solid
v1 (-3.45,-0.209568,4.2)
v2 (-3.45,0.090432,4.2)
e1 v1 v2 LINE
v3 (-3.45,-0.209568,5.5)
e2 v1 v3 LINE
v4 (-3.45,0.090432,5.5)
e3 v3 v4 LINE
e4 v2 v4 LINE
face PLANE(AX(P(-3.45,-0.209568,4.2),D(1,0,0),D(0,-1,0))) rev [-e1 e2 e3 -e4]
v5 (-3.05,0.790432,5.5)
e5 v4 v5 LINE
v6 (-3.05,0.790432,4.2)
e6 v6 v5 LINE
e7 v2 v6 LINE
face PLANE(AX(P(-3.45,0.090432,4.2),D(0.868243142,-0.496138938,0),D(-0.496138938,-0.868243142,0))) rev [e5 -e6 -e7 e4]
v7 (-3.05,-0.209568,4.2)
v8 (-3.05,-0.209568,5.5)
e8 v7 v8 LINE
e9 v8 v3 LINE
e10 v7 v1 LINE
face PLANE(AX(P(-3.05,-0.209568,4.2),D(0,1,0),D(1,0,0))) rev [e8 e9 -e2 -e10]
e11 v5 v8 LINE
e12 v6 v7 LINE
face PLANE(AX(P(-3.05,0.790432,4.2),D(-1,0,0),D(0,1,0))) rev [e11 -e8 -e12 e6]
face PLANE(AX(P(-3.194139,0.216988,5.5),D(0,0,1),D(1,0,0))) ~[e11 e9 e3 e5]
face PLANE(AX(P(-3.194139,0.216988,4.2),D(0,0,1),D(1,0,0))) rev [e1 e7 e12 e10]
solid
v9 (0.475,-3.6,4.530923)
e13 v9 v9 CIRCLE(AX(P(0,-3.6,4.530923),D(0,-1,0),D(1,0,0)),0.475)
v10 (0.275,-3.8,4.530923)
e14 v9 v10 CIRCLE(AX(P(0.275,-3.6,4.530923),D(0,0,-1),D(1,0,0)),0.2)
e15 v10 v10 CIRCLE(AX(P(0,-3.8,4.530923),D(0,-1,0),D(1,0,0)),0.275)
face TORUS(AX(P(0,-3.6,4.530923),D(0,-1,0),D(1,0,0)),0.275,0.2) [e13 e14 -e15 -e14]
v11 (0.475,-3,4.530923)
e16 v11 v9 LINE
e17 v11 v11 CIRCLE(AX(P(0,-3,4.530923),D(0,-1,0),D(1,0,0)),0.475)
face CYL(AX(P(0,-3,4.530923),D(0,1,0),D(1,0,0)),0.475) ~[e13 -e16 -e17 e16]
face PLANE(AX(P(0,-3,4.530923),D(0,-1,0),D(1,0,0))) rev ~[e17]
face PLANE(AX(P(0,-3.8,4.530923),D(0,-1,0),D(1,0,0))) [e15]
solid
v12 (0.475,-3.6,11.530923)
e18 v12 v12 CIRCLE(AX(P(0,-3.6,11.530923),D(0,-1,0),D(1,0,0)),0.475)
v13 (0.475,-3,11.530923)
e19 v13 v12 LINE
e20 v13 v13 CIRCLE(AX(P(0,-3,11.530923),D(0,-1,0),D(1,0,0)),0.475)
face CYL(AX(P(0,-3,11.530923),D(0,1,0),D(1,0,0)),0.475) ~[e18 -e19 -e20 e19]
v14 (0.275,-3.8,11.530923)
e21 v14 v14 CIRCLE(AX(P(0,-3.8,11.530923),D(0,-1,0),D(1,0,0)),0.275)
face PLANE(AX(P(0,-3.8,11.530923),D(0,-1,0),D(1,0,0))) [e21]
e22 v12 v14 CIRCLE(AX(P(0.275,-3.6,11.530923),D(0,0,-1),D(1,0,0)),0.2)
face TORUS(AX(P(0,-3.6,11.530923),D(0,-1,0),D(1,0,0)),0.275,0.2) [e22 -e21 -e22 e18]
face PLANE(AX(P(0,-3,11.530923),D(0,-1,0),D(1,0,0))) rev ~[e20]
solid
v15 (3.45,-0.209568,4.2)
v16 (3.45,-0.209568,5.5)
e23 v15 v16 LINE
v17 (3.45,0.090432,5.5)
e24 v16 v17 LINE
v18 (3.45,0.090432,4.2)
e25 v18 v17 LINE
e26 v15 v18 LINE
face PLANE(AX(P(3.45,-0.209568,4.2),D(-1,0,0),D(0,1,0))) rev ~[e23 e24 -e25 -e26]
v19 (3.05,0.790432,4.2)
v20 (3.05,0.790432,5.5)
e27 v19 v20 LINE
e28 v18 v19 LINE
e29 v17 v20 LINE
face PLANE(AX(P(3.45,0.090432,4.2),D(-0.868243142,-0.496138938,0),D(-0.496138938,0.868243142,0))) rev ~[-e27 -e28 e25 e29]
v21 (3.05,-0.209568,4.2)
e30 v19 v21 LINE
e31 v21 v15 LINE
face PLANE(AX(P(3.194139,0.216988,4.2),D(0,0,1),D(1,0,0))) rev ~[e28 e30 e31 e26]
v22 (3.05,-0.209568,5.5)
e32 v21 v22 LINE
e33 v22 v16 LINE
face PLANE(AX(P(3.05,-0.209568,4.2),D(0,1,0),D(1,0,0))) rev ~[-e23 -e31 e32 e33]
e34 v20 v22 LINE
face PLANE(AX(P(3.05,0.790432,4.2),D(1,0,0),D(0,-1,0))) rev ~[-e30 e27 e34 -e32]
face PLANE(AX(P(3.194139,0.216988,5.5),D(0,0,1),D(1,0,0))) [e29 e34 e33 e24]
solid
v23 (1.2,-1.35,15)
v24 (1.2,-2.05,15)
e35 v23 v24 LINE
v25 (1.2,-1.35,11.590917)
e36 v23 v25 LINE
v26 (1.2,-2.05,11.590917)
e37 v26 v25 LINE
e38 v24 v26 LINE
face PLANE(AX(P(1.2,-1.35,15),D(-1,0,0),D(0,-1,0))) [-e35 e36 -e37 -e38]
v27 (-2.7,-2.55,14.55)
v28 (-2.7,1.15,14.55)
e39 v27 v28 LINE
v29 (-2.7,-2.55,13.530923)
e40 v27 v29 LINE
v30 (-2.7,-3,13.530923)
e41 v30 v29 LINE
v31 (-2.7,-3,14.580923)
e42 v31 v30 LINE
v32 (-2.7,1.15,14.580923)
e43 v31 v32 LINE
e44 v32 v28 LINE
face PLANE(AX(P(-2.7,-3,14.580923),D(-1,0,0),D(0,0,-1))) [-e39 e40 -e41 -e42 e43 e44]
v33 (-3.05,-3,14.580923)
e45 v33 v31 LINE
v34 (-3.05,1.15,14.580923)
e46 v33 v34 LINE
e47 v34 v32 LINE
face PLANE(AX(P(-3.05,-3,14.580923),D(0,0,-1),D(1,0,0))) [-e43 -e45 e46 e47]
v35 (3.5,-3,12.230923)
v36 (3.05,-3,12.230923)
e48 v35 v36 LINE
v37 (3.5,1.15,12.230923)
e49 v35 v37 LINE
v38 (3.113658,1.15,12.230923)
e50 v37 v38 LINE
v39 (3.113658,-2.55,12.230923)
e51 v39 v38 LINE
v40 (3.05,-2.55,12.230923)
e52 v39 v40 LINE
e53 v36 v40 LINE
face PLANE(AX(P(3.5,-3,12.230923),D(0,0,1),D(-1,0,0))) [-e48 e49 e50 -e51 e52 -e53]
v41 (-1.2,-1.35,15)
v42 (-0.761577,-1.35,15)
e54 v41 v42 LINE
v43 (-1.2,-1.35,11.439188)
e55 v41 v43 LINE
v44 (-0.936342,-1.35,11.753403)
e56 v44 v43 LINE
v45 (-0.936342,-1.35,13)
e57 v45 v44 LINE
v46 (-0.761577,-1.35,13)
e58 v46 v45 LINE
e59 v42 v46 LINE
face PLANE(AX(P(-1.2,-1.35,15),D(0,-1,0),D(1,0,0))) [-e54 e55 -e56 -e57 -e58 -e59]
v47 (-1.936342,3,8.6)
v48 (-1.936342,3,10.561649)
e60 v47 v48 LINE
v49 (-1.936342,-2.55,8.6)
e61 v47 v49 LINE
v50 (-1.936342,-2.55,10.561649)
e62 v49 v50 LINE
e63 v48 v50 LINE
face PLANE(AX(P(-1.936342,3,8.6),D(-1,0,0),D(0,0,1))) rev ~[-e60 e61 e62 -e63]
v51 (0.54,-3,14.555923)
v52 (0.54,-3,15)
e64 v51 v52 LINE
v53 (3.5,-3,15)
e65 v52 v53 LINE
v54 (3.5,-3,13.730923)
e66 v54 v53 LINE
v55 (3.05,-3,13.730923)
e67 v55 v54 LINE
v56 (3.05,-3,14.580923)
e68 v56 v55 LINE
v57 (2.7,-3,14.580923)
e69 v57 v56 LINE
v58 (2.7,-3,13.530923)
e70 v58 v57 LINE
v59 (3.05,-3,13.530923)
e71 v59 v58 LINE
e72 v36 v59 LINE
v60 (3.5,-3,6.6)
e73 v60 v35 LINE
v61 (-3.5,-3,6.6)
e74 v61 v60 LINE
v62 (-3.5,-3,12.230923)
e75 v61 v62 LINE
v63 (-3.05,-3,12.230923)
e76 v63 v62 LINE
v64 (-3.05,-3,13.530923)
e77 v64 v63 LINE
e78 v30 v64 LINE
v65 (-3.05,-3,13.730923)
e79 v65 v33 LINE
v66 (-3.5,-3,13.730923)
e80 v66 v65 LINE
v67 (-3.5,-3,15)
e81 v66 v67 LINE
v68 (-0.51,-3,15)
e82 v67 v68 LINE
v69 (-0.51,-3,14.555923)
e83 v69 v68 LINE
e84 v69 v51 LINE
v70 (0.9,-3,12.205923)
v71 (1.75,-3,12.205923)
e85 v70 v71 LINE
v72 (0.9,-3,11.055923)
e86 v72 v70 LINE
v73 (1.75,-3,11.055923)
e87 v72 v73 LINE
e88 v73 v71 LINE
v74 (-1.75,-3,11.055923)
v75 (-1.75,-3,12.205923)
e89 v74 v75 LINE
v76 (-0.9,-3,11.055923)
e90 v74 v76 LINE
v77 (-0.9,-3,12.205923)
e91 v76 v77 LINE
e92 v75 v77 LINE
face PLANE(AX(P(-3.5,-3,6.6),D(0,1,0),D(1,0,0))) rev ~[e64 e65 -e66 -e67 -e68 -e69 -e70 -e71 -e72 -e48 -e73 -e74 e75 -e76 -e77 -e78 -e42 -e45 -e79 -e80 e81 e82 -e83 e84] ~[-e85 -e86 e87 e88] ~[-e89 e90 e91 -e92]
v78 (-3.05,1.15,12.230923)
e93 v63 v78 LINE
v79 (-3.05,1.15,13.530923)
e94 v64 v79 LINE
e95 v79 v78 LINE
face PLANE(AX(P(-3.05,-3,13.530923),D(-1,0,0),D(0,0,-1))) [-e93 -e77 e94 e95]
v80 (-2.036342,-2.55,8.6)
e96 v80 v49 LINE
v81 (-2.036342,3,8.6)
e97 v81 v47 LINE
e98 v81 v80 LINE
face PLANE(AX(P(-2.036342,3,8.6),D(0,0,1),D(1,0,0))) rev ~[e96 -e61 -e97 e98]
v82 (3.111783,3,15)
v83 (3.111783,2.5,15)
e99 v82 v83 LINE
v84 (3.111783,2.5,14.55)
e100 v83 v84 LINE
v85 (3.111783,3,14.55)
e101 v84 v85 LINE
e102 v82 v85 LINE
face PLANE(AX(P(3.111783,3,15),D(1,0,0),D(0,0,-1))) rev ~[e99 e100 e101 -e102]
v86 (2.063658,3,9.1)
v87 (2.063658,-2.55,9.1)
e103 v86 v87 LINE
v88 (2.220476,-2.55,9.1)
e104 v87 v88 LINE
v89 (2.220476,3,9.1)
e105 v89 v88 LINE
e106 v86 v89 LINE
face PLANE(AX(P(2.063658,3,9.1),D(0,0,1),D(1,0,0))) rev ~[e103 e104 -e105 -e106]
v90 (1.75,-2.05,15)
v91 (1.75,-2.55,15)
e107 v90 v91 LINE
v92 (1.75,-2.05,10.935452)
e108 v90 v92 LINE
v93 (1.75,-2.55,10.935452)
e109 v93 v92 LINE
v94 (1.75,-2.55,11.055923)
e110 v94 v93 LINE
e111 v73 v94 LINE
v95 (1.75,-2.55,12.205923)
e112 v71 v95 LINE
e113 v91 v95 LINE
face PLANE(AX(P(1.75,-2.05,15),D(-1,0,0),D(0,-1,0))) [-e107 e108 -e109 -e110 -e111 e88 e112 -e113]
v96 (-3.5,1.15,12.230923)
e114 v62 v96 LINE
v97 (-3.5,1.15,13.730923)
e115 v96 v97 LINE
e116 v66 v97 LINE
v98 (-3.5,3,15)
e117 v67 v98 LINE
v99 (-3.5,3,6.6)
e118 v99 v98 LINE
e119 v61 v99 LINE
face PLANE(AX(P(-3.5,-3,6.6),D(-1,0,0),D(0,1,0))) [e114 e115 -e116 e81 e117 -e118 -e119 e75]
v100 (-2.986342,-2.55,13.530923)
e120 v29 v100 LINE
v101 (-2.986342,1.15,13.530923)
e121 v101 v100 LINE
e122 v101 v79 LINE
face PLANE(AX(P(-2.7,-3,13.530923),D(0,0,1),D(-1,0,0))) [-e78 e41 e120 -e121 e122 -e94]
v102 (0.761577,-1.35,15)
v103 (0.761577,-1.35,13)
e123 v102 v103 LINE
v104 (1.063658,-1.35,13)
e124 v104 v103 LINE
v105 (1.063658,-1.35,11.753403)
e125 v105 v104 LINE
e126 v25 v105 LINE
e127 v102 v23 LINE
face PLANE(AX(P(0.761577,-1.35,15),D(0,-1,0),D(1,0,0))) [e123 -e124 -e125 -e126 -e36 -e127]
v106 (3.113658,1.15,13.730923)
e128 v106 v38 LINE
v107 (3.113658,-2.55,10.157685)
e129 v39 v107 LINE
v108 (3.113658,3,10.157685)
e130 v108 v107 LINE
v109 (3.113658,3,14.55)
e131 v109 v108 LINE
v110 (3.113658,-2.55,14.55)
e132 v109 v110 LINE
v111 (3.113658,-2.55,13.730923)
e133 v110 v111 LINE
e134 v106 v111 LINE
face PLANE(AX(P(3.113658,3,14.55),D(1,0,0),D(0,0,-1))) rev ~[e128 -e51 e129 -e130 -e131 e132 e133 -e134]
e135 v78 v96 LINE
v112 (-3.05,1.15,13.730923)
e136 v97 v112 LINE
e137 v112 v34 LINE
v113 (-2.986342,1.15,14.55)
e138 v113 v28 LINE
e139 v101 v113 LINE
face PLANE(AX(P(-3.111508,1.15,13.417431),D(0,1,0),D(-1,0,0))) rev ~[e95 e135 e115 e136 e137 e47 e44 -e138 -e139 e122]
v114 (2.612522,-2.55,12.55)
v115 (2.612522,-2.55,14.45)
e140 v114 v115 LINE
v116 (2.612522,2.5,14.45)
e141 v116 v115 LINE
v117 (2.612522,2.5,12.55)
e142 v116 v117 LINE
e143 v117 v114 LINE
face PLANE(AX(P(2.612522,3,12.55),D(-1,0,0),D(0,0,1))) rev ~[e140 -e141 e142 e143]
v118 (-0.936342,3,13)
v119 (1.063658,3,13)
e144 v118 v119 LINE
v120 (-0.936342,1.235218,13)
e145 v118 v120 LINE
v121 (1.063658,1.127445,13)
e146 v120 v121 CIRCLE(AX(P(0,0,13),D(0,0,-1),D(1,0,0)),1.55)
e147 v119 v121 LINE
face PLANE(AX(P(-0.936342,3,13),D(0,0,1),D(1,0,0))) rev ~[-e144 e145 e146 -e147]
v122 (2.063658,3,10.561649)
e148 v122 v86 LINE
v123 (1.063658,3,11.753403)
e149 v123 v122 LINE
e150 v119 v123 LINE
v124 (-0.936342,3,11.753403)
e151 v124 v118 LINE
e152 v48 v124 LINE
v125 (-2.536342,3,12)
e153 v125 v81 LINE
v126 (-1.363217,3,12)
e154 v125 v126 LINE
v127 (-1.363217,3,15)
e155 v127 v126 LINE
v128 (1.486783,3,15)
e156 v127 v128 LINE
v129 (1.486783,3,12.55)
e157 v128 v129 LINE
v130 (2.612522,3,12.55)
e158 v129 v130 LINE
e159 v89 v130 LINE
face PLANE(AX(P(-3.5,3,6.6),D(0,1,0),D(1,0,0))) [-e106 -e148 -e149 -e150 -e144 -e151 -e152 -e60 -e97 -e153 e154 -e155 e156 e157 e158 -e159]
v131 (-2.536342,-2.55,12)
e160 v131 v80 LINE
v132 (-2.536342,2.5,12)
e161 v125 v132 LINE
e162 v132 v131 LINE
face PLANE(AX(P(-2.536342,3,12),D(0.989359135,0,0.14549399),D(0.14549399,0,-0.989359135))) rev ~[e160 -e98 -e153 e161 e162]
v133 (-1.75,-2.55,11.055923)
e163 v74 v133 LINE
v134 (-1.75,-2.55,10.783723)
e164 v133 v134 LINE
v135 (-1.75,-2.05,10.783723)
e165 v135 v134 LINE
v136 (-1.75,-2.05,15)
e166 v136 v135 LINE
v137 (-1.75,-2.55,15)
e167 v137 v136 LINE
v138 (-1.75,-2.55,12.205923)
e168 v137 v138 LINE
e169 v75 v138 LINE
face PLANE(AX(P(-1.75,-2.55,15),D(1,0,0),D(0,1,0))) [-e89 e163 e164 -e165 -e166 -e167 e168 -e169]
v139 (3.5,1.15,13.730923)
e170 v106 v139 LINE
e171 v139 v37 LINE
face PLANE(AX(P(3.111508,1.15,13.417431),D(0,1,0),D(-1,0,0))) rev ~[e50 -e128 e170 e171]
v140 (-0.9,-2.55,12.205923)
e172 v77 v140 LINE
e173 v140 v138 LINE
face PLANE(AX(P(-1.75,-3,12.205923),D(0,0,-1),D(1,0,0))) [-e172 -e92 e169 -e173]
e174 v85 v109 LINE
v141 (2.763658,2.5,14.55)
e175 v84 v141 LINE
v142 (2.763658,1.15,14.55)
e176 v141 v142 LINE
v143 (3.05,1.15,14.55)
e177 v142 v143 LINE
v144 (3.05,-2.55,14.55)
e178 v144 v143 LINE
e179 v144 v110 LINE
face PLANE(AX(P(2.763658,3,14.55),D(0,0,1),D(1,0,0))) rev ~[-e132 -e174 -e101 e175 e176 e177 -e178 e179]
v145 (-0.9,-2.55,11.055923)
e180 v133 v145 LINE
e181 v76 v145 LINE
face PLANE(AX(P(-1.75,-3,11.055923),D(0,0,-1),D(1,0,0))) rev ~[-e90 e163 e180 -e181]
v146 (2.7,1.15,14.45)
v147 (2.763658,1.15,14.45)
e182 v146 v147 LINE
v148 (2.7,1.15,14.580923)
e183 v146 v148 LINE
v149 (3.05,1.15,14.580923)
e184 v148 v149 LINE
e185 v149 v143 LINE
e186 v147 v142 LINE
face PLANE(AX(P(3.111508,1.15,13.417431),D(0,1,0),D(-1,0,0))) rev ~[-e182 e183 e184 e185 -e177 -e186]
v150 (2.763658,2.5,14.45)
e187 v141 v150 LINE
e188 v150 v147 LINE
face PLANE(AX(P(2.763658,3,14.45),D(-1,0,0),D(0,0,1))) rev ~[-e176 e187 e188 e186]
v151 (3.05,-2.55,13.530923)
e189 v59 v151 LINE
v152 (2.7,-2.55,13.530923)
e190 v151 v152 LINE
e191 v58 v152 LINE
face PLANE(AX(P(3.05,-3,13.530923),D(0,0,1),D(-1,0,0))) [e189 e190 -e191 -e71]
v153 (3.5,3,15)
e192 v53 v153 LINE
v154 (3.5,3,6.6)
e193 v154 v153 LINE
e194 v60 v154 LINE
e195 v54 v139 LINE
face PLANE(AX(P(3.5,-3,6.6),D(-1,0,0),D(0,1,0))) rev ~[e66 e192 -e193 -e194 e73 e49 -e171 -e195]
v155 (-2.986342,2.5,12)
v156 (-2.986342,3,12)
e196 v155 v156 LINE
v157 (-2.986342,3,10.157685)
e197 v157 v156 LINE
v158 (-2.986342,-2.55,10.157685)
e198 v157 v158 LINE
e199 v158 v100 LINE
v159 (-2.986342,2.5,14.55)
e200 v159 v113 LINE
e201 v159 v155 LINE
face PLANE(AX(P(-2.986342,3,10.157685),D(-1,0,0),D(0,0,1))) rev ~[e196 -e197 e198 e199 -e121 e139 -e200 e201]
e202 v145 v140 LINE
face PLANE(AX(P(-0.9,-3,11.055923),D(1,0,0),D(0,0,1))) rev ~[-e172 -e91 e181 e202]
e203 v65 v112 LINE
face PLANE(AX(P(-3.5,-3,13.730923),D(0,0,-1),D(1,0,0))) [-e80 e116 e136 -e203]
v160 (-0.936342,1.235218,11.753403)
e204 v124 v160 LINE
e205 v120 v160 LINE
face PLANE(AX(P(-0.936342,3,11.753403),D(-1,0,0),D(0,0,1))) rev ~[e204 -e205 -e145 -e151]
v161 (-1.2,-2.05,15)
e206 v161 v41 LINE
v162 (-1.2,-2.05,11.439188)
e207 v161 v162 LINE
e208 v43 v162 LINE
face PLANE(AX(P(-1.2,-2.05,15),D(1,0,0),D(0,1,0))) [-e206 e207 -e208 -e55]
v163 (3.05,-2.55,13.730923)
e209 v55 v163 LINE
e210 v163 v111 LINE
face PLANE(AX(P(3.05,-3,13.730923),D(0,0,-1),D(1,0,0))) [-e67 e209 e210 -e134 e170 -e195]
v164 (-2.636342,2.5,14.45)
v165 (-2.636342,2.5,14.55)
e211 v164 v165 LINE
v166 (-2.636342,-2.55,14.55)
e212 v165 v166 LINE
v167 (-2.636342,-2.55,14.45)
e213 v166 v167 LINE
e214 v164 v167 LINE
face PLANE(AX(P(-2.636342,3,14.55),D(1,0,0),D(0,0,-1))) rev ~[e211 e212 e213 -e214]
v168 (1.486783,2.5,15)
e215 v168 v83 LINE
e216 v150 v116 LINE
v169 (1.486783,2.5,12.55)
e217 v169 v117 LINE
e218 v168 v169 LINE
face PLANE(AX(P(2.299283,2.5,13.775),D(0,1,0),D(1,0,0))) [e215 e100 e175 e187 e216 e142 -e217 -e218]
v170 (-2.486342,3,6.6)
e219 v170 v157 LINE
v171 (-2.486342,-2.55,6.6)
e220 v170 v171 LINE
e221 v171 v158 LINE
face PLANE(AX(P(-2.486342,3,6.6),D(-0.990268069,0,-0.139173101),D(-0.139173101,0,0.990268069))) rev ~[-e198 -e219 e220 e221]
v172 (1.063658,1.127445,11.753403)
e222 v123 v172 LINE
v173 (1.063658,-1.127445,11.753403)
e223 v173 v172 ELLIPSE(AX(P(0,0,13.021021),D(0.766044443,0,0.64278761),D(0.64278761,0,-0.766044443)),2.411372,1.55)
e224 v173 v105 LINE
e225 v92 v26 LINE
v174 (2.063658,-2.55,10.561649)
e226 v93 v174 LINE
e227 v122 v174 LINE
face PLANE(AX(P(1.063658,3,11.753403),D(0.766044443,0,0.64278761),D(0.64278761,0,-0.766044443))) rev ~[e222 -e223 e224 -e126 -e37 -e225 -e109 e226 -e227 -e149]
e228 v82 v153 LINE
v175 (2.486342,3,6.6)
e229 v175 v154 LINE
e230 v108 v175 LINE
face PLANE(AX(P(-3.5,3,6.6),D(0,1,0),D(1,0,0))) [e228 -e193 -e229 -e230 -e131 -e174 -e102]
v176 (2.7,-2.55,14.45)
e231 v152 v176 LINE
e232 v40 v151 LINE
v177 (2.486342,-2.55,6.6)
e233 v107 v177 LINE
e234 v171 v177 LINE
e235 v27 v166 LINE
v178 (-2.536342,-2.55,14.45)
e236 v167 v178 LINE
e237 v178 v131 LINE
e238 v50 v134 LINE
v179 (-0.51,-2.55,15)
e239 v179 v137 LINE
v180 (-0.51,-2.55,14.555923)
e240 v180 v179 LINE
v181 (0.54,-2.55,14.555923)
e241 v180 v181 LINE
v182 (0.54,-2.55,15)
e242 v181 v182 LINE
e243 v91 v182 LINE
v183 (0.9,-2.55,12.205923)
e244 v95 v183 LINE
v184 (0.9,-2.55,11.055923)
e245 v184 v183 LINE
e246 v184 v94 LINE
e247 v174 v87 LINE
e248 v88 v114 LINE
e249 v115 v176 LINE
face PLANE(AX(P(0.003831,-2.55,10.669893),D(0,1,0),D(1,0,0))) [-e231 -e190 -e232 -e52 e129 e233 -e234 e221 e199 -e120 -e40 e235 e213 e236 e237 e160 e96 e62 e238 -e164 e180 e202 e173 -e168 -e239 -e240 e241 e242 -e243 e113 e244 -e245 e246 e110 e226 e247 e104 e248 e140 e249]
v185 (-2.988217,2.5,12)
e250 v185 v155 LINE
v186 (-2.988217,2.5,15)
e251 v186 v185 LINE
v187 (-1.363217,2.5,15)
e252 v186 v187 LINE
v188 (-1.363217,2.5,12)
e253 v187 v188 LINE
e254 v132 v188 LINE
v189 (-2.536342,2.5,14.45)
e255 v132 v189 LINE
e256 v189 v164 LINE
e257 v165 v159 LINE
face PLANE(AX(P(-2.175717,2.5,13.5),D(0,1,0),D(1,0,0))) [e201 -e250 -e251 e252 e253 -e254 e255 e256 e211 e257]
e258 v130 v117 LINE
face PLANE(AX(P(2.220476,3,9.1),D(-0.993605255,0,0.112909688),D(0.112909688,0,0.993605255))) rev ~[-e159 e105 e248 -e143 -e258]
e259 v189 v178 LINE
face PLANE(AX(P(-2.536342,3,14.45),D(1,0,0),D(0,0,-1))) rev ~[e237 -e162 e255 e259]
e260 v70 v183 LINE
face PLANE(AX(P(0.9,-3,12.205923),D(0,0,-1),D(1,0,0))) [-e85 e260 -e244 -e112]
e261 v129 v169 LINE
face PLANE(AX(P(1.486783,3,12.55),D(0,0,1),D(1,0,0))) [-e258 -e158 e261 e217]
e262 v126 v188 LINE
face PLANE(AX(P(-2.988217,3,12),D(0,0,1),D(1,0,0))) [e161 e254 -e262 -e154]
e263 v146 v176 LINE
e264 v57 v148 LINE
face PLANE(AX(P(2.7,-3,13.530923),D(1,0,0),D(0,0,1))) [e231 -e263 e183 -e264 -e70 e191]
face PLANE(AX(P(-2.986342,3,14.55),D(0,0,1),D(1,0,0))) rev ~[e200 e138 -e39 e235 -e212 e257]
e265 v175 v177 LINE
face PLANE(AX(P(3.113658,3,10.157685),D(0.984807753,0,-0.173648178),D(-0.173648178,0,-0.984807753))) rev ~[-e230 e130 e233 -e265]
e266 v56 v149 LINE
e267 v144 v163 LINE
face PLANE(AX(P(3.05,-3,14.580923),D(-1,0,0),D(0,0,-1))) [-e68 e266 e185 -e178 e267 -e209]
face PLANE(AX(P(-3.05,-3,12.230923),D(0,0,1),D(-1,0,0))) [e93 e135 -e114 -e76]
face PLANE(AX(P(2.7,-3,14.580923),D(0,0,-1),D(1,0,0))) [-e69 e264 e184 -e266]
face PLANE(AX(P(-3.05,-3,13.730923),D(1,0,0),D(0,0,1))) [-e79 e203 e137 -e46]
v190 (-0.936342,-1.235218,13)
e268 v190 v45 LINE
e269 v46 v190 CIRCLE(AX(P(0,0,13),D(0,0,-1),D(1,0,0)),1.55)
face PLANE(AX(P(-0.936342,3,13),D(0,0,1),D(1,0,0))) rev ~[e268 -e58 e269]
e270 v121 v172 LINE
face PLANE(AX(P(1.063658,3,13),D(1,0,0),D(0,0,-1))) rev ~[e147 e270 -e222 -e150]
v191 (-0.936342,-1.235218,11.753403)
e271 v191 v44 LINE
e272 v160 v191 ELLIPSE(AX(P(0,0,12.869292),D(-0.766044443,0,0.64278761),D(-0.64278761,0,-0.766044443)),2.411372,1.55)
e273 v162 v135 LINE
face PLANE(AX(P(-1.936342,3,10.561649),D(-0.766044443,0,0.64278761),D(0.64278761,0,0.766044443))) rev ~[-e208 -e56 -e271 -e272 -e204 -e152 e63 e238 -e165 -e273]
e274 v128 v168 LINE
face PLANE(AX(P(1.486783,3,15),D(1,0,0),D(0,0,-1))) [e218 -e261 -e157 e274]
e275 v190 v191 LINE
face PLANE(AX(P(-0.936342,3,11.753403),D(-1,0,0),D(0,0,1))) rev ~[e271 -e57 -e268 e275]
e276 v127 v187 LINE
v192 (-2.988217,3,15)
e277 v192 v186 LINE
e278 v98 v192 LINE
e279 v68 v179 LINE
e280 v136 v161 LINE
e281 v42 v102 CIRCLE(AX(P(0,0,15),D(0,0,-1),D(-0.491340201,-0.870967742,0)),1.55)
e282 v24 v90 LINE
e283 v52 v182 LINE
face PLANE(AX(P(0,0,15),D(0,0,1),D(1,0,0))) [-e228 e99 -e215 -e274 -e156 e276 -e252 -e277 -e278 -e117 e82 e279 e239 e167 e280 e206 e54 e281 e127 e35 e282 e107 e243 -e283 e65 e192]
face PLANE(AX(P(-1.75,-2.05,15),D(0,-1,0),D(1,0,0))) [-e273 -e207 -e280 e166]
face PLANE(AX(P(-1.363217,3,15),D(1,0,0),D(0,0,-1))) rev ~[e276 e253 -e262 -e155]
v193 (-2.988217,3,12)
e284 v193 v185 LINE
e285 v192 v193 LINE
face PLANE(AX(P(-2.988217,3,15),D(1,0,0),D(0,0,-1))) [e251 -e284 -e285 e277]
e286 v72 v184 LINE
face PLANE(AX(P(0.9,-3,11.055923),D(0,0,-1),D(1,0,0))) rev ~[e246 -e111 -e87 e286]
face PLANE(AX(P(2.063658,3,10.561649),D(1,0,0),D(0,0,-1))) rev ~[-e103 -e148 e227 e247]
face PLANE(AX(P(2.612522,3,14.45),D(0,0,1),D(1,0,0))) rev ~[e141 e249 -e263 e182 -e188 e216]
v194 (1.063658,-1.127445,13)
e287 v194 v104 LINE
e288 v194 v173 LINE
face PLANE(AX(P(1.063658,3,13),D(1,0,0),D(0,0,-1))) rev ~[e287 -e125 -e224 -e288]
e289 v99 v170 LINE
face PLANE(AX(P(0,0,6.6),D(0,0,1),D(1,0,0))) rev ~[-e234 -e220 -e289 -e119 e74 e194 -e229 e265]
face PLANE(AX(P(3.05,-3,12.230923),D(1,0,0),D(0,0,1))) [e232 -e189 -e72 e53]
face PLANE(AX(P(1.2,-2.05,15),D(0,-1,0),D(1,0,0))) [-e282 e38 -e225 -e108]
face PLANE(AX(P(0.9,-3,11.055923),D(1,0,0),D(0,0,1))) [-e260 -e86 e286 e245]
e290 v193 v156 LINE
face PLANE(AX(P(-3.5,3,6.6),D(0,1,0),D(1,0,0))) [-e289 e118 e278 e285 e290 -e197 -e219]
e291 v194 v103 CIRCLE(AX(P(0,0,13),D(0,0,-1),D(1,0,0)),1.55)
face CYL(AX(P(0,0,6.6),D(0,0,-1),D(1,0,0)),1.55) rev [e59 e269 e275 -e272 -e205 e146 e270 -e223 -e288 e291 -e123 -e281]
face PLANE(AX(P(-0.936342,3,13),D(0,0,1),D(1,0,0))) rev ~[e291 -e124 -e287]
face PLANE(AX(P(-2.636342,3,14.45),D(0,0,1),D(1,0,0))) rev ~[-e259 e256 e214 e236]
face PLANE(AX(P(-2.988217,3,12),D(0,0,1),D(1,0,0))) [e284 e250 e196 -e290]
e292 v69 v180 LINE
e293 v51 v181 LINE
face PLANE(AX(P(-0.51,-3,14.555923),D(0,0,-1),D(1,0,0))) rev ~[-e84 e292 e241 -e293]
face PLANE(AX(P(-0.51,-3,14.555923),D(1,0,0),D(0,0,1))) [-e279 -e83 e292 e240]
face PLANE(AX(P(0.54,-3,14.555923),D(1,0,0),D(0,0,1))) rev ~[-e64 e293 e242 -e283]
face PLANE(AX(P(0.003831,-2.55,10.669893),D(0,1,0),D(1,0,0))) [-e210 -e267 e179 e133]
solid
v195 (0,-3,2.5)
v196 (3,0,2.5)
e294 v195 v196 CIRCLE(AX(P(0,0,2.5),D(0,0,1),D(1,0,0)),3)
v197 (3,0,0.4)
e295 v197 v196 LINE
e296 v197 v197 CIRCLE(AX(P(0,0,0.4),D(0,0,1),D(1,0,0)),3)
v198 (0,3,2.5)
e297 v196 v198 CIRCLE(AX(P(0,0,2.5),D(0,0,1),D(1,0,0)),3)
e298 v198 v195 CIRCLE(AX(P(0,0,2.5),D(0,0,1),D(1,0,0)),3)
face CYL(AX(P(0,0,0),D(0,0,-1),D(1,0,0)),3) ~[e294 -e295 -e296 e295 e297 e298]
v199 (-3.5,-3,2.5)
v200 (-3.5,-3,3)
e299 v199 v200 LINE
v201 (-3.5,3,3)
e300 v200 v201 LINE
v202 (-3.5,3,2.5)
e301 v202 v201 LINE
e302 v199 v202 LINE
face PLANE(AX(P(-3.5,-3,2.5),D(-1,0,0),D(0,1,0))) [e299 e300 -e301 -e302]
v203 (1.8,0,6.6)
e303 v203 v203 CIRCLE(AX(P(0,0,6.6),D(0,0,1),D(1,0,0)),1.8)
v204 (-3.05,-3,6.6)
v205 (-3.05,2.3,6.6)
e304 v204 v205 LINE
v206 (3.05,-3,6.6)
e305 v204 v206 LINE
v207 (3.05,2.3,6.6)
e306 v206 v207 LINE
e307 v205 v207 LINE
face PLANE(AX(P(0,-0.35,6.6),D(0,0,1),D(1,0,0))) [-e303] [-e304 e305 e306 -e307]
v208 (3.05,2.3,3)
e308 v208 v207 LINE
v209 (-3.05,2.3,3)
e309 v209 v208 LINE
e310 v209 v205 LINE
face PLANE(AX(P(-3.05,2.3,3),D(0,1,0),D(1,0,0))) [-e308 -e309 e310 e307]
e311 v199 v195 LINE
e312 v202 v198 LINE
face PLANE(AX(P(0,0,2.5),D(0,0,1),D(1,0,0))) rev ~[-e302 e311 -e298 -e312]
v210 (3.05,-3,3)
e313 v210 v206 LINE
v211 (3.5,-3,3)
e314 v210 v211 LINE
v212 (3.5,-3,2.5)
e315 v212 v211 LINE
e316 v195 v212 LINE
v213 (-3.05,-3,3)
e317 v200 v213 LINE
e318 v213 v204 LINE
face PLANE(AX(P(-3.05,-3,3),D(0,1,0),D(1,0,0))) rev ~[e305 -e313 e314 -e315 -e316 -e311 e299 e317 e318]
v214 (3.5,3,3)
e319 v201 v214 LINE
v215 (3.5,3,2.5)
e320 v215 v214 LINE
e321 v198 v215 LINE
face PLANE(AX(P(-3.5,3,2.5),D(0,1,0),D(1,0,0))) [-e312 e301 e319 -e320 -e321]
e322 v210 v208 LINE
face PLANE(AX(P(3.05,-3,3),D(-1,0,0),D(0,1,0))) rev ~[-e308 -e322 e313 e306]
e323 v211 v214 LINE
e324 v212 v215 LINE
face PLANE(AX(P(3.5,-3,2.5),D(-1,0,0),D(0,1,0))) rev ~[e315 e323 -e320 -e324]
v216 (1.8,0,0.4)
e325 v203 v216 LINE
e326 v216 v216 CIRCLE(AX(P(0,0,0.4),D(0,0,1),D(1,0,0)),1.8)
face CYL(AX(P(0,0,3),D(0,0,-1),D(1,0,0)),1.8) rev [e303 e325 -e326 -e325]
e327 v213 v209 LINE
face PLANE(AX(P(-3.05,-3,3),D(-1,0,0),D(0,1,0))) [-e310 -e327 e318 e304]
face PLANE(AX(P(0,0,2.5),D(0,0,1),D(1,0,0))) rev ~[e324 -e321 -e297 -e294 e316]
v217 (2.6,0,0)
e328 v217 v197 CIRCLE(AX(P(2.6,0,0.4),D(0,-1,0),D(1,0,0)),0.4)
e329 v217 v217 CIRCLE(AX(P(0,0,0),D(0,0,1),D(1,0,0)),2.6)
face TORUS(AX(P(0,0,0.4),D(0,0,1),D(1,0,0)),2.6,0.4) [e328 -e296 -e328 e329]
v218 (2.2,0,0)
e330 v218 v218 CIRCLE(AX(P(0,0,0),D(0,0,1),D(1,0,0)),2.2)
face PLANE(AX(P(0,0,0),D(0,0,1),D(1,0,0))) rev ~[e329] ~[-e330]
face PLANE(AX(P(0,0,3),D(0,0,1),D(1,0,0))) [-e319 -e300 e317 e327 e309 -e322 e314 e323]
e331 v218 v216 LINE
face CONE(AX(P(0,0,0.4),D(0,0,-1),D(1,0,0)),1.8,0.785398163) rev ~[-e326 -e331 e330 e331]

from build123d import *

# Parameters (mm, degrees)
SZKIC1_R                      = 3
SZKIC1_R_2                    = 1.8
DODANIE_WYCI_GNI_CIE1_DEPTH   = 2.5
SZKIC2_W                      = 7
SZKIC2_H                      = 6
SZKIC2_R                      = 1.8
DODANIE_WYCI_GNI_CIE2_DEPTH   = 0.5
ZAOKR_GLENIE1_R               = 0.4
SFAZOWANIE1_SIZE              = 0.4
SZKIC3_W                      = 6.1
SZKIC3_H                      = 5.3
SZKIC3_R                      = 1.8
DODANIE_WYCI_GNI_CIE3_DEPTH   = 3.6
DODANIE_WYCI_GNI_CIE4_START   = -0.1
DODANIE_WYCI_GNI_CIE4_DEPTH   = 1.3
SZKIC5_W                      = 7
SZKIC5_H                      = 6
SZKIC5_R                      = 1.55
DODANIE_WYCI_GNI_CIE5_DEPTH   = 8.4
SZKIC8_R                      = 0.475
DODANIE_WYCI_GNI_CIE6_DEPTH   = 0.8
DODANIE_WYCI_GNI_CIE6_2_DEPTH = 0.8
ZAOKR_GLENIE2_R               = 0.2
ZAOKR_GLENIE3_R               = 0.2
SZKIC9_W                      = 0.85
SZKIC9_H                      = 1.15
WYTNIJ_WYCI_GNI_CIE1_DEPTH    = 0.95
SZKIC10_W                     = 1.05
SZKIC10_H                     = 0.475
WYTNIJ_WYCI_GNI_CIE2_DEPTH    = 2
WYTNIJ_WYCI_GNI_CIE3_DEPTH    = 4.15
WYTNIJ_WYCI_GNI_CIE4_DEPTH    = 8.4
WYTNIJ_WYCI_GNI_CIE5_DEPTH    = 5.55
SZKIC14_W                     = 1.625
SZKIC14_H                     = 2.45
SZKIC14_H_2                   = 3
WYTNIJ_WYCI_GNI_CIE6_DEPTH    = 0.5


with BuildPart() as part:
    # Szkic1 → Dodanie-wyciągnięcie1 (new body)
    with BuildSketch(Plane.XY):
        Circle(SZKIC1_R)
        Circle(SZKIC1_R_2, mode=Mode.SUBTRACT)
    extrude(amount=DODANIE_WYCI_GNI_CIE1_DEPTH)

    # Szkic2 → Dodanie-wyciągnięcie2 (add)
    with BuildSketch(Plane.XY.offset(2.5)):
        Rectangle(SZKIC2_W, SZKIC2_H)
        Circle(SZKIC2_R, mode=Mode.SUBTRACT)
    extrude(amount=DODANIE_WYCI_GNI_CIE2_DEPTH)

    # Zaokrąglenie1
    zaokr_glenie1_edges = [part.edges().sort_by_distance(p)[0] for p in [
        (-3, 0, 0),
    ]]
    fillet(zaokr_glenie1_edges, radius=ZAOKR_GLENIE1_R)

    # Sfazowanie1
    sfazowanie1_edges = [part.edges().sort_by_distance(p)[0] for p in [
        (-1.8, 0, 0),
    ]]
    chamfer(sfazowanie1_edges, length=SFAZOWANIE1_SIZE)

    # Szkic3 → Dodanie-wyciągnięcie3 (add)
    with BuildSketch(Plane.XY.offset(3)):
        with Locations((0, -0.35)):
            Rectangle(SZKIC3_W, SZKIC3_H)
        Circle(SZKIC3_R, mode=Mode.SUBTRACT)
    extrude(amount=DODANIE_WYCI_GNI_CIE3_DEPTH)


with BuildPart() as body_2:
    # Szkic4 → Dodanie-wyciągnięcie4 (new body)
    with BuildSketch(Plane.XY.offset(4.3).offset(DODANIE_WYCI_GNI_CIE4_START)):
        Polygon((3.05, 0.790431876), (3.05, -0.209568124), (3.45, -0.209568124), (3.45, 0.090431876), align=None)
    extrude(amount=DODANIE_WYCI_GNI_CIE4_DEPTH)


with BuildPart() as body_3:
    # Lustro1: mirrored copy
    add(body_2.part.mirror(Plane(origin=(0, 0, 0), x_dir=(0, 0, 1), z_dir=(1, 0, 0))))


with BuildPart() as body_4:
    # Szkic5 → Dodanie-wyciągnięcie5 (new body)
    with BuildSketch(Plane.XY.offset(6.6)):
        Rectangle(SZKIC5_W, SZKIC5_H)
        Circle(SZKIC5_R, mode=Mode.SUBTRACT)
    extrude(amount=DODANIE_WYCI_GNI_CIE5_DEPTH)

    # Szkic9 → Wytnij-wyciągnięcie1 (cut)
    with BuildSketch(Plane.XZ.offset(3)):
        with Locations((1.325, 11.630923267)):
            Rectangle(SZKIC9_W, SZKIC9_H)
        with Locations((-1.325, 11.630923267)):
            Rectangle(SZKIC9_W, SZKIC9_H)
    extrude(amount=-WYTNIJ_WYCI_GNI_CIE1_DEPTH, mode=Mode.SUBTRACT)

    # Szkic10 → Wytnij-wyciągnięcie2 (cut)
    with BuildSketch(Plane.XZ.offset(3)):
        with Locations((0.015, 14.793423267)):
            Rectangle(SZKIC10_W, SZKIC10_H)
    extrude(amount=-WYTNIJ_WYCI_GNI_CIE2_DEPTH, mode=Mode.SUBTRACT)

    # Szkic11 → Wytnij-wyciągnięcie3 (cut)
    with BuildSketch(Plane.XZ.offset(3)):
        Polygon((3.05, 13.530923267), (2.7, 13.530923267), (2.7, 14.580923267), (3.05, 14.580923267), (3.05, 13.730923267), (3.5, 13.730923267), (3.5, 12.230923267), (3.05, 12.230923267), align=None)
        Polygon((-3.05, 13.530923267), (-3.05, 12.230923267), (-3.5, 12.230923267), (-3.5, 13.730923267), (-3.05, 13.730923267), (-3.05, 14.580923267), (-2.7, 14.580923267), (-2.7, 13.530923267), align=None)
    extrude(amount=-WYTNIJ_WYCI_GNI_CIE3_DEPTH, mode=Mode.SUBTRACT)

    # Szkic12 → Wytnij-wyciągnięcie4 (cut)
    with BuildSketch(Plane.XY.offset(15)):
        with BuildLine():
            Line((1.75, -2.05), (1.75, -2.55))
            Line((1.75, -2.55), (0.54, -2.55))
            Line((0.54, -2.55), (-0.51, -2.55))
            Line((-0.51, -2.55), (-1.75, -2.55))
            Line((-1.75, -2.55), (-1.75, -2.05))
            Line((-1.75, -2.05), (-1.2, -2.05))
            Line((-1.2, -2.05), (-1.2, -1.35))
            Line((-1.2, -1.35), (-0.761577311, -1.35))
            ThreePointArc((-0.761577311, -1.35), (0, 1.55), (0.761577311, -1.35))
            Line((0.761577311, -1.35), (1.2, -1.35))
            Line((1.2, -1.35), (1.2, -2.05))
            Line((1.2, -2.05), (1.75, -2.05))
        make_face()
    extrude(amount=-WYTNIJ_WYCI_GNI_CIE4_DEPTH, mode=Mode.SUBTRACT)

    # Szkic13 → Wytnij-wyciągnięcie5 (cut)
    with BuildSketch(Plane(origin=(0, 3, 0), x_dir=(1, 0, 0), z_dir=(0, 1, 0))):
        Polygon((-2.486342085, -6.6), (-2.986342085, -10.157684861), (-2.986342085, -14.55), (-2.636342085, -14.55), (-2.636342085, -14.45), (-2.536342085, -14.45), (-2.536342085, -12), (-2.036342085, -8.6), (-1.936342085, -8.6), (-1.936342085, -10.561649281), (-0.936342085, -11.753402874), (-0.936342085, -13), (1.063657915, -13), (1.063657915, -11.753402874), (2.063657915, -10.561649281), (2.063657915, -9.1), (2.220476097, -9.1), (2.612521551, -12.55), (2.612521551, -14.45), (2.763657915, -14.45), (2.763657915, -14.55), (3.113657915, -14.55), (3.113657915, -10.157684861), (2.486342085, -6.6), align=None)
    extrude(amount=-WYTNIJ_WYCI_GNI_CIE5_DEPTH, mode=Mode.SUBTRACT)

    # Szkic14 → Wytnij-wyciągnięcie6 (cut)
    with BuildSketch(Plane(origin=(0, 3, 0), x_dir=(1, 0, 0), z_dir=(0, 1, 0))):
        with Locations((2.299282609, -13.775)):
            Rectangle(SZKIC14_W, SZKIC14_H)
        with Locations((-2.175717391, -13.5)):
            Rectangle(SZKIC14_W, SZKIC14_H_2)
    extrude(amount=-WYTNIJ_WYCI_GNI_CIE6_DEPTH, mode=Mode.SUBTRACT)


with BuildPart() as body_5:
    # Szkic8 → Dodanie-wyciągnięcie6 (new body)
    with BuildSketch(Plane.XZ.offset(3)):
        with Locations((0, 11.530923267)):
            Circle(SZKIC8_R)
    extrude(amount=DODANIE_WYCI_GNI_CIE6_DEPTH)

    # Zaokrąglenie3
    zaokr_glenie3_edges = [body_5.edges().sort_by_distance(p)[0] for p in [
        (-0.475, -3.8, 11.530923267),
    ]]
    fillet(zaokr_glenie3_edges, radius=ZAOKR_GLENIE3_R)


with BuildPart() as body_6:
    # Szkic8 → Dodanie-wyci_gni_cie6 2 (new body)
    with BuildSketch(Plane.XZ.offset(3)):
        with Locations((0, 4.530923267)):
            Circle(SZKIC8_R)
    extrude(amount=DODANIE_WYCI_GNI_CIE6_2_DEPTH)

    # Zaokrąglenie2
    zaokr_glenie2_edges = [body_6.edges().sort_by_distance(p)[0] for p in [
        (-0.475, -3.8, 4.530923267),
    ]]
    fillet(zaokr_glenie2_edges, radius=ZAOKR_GLENIE2_R)


solid = Compound([part.part, body_2.part, body_3.part, body_4.part, body_5.part, body_6.part])
